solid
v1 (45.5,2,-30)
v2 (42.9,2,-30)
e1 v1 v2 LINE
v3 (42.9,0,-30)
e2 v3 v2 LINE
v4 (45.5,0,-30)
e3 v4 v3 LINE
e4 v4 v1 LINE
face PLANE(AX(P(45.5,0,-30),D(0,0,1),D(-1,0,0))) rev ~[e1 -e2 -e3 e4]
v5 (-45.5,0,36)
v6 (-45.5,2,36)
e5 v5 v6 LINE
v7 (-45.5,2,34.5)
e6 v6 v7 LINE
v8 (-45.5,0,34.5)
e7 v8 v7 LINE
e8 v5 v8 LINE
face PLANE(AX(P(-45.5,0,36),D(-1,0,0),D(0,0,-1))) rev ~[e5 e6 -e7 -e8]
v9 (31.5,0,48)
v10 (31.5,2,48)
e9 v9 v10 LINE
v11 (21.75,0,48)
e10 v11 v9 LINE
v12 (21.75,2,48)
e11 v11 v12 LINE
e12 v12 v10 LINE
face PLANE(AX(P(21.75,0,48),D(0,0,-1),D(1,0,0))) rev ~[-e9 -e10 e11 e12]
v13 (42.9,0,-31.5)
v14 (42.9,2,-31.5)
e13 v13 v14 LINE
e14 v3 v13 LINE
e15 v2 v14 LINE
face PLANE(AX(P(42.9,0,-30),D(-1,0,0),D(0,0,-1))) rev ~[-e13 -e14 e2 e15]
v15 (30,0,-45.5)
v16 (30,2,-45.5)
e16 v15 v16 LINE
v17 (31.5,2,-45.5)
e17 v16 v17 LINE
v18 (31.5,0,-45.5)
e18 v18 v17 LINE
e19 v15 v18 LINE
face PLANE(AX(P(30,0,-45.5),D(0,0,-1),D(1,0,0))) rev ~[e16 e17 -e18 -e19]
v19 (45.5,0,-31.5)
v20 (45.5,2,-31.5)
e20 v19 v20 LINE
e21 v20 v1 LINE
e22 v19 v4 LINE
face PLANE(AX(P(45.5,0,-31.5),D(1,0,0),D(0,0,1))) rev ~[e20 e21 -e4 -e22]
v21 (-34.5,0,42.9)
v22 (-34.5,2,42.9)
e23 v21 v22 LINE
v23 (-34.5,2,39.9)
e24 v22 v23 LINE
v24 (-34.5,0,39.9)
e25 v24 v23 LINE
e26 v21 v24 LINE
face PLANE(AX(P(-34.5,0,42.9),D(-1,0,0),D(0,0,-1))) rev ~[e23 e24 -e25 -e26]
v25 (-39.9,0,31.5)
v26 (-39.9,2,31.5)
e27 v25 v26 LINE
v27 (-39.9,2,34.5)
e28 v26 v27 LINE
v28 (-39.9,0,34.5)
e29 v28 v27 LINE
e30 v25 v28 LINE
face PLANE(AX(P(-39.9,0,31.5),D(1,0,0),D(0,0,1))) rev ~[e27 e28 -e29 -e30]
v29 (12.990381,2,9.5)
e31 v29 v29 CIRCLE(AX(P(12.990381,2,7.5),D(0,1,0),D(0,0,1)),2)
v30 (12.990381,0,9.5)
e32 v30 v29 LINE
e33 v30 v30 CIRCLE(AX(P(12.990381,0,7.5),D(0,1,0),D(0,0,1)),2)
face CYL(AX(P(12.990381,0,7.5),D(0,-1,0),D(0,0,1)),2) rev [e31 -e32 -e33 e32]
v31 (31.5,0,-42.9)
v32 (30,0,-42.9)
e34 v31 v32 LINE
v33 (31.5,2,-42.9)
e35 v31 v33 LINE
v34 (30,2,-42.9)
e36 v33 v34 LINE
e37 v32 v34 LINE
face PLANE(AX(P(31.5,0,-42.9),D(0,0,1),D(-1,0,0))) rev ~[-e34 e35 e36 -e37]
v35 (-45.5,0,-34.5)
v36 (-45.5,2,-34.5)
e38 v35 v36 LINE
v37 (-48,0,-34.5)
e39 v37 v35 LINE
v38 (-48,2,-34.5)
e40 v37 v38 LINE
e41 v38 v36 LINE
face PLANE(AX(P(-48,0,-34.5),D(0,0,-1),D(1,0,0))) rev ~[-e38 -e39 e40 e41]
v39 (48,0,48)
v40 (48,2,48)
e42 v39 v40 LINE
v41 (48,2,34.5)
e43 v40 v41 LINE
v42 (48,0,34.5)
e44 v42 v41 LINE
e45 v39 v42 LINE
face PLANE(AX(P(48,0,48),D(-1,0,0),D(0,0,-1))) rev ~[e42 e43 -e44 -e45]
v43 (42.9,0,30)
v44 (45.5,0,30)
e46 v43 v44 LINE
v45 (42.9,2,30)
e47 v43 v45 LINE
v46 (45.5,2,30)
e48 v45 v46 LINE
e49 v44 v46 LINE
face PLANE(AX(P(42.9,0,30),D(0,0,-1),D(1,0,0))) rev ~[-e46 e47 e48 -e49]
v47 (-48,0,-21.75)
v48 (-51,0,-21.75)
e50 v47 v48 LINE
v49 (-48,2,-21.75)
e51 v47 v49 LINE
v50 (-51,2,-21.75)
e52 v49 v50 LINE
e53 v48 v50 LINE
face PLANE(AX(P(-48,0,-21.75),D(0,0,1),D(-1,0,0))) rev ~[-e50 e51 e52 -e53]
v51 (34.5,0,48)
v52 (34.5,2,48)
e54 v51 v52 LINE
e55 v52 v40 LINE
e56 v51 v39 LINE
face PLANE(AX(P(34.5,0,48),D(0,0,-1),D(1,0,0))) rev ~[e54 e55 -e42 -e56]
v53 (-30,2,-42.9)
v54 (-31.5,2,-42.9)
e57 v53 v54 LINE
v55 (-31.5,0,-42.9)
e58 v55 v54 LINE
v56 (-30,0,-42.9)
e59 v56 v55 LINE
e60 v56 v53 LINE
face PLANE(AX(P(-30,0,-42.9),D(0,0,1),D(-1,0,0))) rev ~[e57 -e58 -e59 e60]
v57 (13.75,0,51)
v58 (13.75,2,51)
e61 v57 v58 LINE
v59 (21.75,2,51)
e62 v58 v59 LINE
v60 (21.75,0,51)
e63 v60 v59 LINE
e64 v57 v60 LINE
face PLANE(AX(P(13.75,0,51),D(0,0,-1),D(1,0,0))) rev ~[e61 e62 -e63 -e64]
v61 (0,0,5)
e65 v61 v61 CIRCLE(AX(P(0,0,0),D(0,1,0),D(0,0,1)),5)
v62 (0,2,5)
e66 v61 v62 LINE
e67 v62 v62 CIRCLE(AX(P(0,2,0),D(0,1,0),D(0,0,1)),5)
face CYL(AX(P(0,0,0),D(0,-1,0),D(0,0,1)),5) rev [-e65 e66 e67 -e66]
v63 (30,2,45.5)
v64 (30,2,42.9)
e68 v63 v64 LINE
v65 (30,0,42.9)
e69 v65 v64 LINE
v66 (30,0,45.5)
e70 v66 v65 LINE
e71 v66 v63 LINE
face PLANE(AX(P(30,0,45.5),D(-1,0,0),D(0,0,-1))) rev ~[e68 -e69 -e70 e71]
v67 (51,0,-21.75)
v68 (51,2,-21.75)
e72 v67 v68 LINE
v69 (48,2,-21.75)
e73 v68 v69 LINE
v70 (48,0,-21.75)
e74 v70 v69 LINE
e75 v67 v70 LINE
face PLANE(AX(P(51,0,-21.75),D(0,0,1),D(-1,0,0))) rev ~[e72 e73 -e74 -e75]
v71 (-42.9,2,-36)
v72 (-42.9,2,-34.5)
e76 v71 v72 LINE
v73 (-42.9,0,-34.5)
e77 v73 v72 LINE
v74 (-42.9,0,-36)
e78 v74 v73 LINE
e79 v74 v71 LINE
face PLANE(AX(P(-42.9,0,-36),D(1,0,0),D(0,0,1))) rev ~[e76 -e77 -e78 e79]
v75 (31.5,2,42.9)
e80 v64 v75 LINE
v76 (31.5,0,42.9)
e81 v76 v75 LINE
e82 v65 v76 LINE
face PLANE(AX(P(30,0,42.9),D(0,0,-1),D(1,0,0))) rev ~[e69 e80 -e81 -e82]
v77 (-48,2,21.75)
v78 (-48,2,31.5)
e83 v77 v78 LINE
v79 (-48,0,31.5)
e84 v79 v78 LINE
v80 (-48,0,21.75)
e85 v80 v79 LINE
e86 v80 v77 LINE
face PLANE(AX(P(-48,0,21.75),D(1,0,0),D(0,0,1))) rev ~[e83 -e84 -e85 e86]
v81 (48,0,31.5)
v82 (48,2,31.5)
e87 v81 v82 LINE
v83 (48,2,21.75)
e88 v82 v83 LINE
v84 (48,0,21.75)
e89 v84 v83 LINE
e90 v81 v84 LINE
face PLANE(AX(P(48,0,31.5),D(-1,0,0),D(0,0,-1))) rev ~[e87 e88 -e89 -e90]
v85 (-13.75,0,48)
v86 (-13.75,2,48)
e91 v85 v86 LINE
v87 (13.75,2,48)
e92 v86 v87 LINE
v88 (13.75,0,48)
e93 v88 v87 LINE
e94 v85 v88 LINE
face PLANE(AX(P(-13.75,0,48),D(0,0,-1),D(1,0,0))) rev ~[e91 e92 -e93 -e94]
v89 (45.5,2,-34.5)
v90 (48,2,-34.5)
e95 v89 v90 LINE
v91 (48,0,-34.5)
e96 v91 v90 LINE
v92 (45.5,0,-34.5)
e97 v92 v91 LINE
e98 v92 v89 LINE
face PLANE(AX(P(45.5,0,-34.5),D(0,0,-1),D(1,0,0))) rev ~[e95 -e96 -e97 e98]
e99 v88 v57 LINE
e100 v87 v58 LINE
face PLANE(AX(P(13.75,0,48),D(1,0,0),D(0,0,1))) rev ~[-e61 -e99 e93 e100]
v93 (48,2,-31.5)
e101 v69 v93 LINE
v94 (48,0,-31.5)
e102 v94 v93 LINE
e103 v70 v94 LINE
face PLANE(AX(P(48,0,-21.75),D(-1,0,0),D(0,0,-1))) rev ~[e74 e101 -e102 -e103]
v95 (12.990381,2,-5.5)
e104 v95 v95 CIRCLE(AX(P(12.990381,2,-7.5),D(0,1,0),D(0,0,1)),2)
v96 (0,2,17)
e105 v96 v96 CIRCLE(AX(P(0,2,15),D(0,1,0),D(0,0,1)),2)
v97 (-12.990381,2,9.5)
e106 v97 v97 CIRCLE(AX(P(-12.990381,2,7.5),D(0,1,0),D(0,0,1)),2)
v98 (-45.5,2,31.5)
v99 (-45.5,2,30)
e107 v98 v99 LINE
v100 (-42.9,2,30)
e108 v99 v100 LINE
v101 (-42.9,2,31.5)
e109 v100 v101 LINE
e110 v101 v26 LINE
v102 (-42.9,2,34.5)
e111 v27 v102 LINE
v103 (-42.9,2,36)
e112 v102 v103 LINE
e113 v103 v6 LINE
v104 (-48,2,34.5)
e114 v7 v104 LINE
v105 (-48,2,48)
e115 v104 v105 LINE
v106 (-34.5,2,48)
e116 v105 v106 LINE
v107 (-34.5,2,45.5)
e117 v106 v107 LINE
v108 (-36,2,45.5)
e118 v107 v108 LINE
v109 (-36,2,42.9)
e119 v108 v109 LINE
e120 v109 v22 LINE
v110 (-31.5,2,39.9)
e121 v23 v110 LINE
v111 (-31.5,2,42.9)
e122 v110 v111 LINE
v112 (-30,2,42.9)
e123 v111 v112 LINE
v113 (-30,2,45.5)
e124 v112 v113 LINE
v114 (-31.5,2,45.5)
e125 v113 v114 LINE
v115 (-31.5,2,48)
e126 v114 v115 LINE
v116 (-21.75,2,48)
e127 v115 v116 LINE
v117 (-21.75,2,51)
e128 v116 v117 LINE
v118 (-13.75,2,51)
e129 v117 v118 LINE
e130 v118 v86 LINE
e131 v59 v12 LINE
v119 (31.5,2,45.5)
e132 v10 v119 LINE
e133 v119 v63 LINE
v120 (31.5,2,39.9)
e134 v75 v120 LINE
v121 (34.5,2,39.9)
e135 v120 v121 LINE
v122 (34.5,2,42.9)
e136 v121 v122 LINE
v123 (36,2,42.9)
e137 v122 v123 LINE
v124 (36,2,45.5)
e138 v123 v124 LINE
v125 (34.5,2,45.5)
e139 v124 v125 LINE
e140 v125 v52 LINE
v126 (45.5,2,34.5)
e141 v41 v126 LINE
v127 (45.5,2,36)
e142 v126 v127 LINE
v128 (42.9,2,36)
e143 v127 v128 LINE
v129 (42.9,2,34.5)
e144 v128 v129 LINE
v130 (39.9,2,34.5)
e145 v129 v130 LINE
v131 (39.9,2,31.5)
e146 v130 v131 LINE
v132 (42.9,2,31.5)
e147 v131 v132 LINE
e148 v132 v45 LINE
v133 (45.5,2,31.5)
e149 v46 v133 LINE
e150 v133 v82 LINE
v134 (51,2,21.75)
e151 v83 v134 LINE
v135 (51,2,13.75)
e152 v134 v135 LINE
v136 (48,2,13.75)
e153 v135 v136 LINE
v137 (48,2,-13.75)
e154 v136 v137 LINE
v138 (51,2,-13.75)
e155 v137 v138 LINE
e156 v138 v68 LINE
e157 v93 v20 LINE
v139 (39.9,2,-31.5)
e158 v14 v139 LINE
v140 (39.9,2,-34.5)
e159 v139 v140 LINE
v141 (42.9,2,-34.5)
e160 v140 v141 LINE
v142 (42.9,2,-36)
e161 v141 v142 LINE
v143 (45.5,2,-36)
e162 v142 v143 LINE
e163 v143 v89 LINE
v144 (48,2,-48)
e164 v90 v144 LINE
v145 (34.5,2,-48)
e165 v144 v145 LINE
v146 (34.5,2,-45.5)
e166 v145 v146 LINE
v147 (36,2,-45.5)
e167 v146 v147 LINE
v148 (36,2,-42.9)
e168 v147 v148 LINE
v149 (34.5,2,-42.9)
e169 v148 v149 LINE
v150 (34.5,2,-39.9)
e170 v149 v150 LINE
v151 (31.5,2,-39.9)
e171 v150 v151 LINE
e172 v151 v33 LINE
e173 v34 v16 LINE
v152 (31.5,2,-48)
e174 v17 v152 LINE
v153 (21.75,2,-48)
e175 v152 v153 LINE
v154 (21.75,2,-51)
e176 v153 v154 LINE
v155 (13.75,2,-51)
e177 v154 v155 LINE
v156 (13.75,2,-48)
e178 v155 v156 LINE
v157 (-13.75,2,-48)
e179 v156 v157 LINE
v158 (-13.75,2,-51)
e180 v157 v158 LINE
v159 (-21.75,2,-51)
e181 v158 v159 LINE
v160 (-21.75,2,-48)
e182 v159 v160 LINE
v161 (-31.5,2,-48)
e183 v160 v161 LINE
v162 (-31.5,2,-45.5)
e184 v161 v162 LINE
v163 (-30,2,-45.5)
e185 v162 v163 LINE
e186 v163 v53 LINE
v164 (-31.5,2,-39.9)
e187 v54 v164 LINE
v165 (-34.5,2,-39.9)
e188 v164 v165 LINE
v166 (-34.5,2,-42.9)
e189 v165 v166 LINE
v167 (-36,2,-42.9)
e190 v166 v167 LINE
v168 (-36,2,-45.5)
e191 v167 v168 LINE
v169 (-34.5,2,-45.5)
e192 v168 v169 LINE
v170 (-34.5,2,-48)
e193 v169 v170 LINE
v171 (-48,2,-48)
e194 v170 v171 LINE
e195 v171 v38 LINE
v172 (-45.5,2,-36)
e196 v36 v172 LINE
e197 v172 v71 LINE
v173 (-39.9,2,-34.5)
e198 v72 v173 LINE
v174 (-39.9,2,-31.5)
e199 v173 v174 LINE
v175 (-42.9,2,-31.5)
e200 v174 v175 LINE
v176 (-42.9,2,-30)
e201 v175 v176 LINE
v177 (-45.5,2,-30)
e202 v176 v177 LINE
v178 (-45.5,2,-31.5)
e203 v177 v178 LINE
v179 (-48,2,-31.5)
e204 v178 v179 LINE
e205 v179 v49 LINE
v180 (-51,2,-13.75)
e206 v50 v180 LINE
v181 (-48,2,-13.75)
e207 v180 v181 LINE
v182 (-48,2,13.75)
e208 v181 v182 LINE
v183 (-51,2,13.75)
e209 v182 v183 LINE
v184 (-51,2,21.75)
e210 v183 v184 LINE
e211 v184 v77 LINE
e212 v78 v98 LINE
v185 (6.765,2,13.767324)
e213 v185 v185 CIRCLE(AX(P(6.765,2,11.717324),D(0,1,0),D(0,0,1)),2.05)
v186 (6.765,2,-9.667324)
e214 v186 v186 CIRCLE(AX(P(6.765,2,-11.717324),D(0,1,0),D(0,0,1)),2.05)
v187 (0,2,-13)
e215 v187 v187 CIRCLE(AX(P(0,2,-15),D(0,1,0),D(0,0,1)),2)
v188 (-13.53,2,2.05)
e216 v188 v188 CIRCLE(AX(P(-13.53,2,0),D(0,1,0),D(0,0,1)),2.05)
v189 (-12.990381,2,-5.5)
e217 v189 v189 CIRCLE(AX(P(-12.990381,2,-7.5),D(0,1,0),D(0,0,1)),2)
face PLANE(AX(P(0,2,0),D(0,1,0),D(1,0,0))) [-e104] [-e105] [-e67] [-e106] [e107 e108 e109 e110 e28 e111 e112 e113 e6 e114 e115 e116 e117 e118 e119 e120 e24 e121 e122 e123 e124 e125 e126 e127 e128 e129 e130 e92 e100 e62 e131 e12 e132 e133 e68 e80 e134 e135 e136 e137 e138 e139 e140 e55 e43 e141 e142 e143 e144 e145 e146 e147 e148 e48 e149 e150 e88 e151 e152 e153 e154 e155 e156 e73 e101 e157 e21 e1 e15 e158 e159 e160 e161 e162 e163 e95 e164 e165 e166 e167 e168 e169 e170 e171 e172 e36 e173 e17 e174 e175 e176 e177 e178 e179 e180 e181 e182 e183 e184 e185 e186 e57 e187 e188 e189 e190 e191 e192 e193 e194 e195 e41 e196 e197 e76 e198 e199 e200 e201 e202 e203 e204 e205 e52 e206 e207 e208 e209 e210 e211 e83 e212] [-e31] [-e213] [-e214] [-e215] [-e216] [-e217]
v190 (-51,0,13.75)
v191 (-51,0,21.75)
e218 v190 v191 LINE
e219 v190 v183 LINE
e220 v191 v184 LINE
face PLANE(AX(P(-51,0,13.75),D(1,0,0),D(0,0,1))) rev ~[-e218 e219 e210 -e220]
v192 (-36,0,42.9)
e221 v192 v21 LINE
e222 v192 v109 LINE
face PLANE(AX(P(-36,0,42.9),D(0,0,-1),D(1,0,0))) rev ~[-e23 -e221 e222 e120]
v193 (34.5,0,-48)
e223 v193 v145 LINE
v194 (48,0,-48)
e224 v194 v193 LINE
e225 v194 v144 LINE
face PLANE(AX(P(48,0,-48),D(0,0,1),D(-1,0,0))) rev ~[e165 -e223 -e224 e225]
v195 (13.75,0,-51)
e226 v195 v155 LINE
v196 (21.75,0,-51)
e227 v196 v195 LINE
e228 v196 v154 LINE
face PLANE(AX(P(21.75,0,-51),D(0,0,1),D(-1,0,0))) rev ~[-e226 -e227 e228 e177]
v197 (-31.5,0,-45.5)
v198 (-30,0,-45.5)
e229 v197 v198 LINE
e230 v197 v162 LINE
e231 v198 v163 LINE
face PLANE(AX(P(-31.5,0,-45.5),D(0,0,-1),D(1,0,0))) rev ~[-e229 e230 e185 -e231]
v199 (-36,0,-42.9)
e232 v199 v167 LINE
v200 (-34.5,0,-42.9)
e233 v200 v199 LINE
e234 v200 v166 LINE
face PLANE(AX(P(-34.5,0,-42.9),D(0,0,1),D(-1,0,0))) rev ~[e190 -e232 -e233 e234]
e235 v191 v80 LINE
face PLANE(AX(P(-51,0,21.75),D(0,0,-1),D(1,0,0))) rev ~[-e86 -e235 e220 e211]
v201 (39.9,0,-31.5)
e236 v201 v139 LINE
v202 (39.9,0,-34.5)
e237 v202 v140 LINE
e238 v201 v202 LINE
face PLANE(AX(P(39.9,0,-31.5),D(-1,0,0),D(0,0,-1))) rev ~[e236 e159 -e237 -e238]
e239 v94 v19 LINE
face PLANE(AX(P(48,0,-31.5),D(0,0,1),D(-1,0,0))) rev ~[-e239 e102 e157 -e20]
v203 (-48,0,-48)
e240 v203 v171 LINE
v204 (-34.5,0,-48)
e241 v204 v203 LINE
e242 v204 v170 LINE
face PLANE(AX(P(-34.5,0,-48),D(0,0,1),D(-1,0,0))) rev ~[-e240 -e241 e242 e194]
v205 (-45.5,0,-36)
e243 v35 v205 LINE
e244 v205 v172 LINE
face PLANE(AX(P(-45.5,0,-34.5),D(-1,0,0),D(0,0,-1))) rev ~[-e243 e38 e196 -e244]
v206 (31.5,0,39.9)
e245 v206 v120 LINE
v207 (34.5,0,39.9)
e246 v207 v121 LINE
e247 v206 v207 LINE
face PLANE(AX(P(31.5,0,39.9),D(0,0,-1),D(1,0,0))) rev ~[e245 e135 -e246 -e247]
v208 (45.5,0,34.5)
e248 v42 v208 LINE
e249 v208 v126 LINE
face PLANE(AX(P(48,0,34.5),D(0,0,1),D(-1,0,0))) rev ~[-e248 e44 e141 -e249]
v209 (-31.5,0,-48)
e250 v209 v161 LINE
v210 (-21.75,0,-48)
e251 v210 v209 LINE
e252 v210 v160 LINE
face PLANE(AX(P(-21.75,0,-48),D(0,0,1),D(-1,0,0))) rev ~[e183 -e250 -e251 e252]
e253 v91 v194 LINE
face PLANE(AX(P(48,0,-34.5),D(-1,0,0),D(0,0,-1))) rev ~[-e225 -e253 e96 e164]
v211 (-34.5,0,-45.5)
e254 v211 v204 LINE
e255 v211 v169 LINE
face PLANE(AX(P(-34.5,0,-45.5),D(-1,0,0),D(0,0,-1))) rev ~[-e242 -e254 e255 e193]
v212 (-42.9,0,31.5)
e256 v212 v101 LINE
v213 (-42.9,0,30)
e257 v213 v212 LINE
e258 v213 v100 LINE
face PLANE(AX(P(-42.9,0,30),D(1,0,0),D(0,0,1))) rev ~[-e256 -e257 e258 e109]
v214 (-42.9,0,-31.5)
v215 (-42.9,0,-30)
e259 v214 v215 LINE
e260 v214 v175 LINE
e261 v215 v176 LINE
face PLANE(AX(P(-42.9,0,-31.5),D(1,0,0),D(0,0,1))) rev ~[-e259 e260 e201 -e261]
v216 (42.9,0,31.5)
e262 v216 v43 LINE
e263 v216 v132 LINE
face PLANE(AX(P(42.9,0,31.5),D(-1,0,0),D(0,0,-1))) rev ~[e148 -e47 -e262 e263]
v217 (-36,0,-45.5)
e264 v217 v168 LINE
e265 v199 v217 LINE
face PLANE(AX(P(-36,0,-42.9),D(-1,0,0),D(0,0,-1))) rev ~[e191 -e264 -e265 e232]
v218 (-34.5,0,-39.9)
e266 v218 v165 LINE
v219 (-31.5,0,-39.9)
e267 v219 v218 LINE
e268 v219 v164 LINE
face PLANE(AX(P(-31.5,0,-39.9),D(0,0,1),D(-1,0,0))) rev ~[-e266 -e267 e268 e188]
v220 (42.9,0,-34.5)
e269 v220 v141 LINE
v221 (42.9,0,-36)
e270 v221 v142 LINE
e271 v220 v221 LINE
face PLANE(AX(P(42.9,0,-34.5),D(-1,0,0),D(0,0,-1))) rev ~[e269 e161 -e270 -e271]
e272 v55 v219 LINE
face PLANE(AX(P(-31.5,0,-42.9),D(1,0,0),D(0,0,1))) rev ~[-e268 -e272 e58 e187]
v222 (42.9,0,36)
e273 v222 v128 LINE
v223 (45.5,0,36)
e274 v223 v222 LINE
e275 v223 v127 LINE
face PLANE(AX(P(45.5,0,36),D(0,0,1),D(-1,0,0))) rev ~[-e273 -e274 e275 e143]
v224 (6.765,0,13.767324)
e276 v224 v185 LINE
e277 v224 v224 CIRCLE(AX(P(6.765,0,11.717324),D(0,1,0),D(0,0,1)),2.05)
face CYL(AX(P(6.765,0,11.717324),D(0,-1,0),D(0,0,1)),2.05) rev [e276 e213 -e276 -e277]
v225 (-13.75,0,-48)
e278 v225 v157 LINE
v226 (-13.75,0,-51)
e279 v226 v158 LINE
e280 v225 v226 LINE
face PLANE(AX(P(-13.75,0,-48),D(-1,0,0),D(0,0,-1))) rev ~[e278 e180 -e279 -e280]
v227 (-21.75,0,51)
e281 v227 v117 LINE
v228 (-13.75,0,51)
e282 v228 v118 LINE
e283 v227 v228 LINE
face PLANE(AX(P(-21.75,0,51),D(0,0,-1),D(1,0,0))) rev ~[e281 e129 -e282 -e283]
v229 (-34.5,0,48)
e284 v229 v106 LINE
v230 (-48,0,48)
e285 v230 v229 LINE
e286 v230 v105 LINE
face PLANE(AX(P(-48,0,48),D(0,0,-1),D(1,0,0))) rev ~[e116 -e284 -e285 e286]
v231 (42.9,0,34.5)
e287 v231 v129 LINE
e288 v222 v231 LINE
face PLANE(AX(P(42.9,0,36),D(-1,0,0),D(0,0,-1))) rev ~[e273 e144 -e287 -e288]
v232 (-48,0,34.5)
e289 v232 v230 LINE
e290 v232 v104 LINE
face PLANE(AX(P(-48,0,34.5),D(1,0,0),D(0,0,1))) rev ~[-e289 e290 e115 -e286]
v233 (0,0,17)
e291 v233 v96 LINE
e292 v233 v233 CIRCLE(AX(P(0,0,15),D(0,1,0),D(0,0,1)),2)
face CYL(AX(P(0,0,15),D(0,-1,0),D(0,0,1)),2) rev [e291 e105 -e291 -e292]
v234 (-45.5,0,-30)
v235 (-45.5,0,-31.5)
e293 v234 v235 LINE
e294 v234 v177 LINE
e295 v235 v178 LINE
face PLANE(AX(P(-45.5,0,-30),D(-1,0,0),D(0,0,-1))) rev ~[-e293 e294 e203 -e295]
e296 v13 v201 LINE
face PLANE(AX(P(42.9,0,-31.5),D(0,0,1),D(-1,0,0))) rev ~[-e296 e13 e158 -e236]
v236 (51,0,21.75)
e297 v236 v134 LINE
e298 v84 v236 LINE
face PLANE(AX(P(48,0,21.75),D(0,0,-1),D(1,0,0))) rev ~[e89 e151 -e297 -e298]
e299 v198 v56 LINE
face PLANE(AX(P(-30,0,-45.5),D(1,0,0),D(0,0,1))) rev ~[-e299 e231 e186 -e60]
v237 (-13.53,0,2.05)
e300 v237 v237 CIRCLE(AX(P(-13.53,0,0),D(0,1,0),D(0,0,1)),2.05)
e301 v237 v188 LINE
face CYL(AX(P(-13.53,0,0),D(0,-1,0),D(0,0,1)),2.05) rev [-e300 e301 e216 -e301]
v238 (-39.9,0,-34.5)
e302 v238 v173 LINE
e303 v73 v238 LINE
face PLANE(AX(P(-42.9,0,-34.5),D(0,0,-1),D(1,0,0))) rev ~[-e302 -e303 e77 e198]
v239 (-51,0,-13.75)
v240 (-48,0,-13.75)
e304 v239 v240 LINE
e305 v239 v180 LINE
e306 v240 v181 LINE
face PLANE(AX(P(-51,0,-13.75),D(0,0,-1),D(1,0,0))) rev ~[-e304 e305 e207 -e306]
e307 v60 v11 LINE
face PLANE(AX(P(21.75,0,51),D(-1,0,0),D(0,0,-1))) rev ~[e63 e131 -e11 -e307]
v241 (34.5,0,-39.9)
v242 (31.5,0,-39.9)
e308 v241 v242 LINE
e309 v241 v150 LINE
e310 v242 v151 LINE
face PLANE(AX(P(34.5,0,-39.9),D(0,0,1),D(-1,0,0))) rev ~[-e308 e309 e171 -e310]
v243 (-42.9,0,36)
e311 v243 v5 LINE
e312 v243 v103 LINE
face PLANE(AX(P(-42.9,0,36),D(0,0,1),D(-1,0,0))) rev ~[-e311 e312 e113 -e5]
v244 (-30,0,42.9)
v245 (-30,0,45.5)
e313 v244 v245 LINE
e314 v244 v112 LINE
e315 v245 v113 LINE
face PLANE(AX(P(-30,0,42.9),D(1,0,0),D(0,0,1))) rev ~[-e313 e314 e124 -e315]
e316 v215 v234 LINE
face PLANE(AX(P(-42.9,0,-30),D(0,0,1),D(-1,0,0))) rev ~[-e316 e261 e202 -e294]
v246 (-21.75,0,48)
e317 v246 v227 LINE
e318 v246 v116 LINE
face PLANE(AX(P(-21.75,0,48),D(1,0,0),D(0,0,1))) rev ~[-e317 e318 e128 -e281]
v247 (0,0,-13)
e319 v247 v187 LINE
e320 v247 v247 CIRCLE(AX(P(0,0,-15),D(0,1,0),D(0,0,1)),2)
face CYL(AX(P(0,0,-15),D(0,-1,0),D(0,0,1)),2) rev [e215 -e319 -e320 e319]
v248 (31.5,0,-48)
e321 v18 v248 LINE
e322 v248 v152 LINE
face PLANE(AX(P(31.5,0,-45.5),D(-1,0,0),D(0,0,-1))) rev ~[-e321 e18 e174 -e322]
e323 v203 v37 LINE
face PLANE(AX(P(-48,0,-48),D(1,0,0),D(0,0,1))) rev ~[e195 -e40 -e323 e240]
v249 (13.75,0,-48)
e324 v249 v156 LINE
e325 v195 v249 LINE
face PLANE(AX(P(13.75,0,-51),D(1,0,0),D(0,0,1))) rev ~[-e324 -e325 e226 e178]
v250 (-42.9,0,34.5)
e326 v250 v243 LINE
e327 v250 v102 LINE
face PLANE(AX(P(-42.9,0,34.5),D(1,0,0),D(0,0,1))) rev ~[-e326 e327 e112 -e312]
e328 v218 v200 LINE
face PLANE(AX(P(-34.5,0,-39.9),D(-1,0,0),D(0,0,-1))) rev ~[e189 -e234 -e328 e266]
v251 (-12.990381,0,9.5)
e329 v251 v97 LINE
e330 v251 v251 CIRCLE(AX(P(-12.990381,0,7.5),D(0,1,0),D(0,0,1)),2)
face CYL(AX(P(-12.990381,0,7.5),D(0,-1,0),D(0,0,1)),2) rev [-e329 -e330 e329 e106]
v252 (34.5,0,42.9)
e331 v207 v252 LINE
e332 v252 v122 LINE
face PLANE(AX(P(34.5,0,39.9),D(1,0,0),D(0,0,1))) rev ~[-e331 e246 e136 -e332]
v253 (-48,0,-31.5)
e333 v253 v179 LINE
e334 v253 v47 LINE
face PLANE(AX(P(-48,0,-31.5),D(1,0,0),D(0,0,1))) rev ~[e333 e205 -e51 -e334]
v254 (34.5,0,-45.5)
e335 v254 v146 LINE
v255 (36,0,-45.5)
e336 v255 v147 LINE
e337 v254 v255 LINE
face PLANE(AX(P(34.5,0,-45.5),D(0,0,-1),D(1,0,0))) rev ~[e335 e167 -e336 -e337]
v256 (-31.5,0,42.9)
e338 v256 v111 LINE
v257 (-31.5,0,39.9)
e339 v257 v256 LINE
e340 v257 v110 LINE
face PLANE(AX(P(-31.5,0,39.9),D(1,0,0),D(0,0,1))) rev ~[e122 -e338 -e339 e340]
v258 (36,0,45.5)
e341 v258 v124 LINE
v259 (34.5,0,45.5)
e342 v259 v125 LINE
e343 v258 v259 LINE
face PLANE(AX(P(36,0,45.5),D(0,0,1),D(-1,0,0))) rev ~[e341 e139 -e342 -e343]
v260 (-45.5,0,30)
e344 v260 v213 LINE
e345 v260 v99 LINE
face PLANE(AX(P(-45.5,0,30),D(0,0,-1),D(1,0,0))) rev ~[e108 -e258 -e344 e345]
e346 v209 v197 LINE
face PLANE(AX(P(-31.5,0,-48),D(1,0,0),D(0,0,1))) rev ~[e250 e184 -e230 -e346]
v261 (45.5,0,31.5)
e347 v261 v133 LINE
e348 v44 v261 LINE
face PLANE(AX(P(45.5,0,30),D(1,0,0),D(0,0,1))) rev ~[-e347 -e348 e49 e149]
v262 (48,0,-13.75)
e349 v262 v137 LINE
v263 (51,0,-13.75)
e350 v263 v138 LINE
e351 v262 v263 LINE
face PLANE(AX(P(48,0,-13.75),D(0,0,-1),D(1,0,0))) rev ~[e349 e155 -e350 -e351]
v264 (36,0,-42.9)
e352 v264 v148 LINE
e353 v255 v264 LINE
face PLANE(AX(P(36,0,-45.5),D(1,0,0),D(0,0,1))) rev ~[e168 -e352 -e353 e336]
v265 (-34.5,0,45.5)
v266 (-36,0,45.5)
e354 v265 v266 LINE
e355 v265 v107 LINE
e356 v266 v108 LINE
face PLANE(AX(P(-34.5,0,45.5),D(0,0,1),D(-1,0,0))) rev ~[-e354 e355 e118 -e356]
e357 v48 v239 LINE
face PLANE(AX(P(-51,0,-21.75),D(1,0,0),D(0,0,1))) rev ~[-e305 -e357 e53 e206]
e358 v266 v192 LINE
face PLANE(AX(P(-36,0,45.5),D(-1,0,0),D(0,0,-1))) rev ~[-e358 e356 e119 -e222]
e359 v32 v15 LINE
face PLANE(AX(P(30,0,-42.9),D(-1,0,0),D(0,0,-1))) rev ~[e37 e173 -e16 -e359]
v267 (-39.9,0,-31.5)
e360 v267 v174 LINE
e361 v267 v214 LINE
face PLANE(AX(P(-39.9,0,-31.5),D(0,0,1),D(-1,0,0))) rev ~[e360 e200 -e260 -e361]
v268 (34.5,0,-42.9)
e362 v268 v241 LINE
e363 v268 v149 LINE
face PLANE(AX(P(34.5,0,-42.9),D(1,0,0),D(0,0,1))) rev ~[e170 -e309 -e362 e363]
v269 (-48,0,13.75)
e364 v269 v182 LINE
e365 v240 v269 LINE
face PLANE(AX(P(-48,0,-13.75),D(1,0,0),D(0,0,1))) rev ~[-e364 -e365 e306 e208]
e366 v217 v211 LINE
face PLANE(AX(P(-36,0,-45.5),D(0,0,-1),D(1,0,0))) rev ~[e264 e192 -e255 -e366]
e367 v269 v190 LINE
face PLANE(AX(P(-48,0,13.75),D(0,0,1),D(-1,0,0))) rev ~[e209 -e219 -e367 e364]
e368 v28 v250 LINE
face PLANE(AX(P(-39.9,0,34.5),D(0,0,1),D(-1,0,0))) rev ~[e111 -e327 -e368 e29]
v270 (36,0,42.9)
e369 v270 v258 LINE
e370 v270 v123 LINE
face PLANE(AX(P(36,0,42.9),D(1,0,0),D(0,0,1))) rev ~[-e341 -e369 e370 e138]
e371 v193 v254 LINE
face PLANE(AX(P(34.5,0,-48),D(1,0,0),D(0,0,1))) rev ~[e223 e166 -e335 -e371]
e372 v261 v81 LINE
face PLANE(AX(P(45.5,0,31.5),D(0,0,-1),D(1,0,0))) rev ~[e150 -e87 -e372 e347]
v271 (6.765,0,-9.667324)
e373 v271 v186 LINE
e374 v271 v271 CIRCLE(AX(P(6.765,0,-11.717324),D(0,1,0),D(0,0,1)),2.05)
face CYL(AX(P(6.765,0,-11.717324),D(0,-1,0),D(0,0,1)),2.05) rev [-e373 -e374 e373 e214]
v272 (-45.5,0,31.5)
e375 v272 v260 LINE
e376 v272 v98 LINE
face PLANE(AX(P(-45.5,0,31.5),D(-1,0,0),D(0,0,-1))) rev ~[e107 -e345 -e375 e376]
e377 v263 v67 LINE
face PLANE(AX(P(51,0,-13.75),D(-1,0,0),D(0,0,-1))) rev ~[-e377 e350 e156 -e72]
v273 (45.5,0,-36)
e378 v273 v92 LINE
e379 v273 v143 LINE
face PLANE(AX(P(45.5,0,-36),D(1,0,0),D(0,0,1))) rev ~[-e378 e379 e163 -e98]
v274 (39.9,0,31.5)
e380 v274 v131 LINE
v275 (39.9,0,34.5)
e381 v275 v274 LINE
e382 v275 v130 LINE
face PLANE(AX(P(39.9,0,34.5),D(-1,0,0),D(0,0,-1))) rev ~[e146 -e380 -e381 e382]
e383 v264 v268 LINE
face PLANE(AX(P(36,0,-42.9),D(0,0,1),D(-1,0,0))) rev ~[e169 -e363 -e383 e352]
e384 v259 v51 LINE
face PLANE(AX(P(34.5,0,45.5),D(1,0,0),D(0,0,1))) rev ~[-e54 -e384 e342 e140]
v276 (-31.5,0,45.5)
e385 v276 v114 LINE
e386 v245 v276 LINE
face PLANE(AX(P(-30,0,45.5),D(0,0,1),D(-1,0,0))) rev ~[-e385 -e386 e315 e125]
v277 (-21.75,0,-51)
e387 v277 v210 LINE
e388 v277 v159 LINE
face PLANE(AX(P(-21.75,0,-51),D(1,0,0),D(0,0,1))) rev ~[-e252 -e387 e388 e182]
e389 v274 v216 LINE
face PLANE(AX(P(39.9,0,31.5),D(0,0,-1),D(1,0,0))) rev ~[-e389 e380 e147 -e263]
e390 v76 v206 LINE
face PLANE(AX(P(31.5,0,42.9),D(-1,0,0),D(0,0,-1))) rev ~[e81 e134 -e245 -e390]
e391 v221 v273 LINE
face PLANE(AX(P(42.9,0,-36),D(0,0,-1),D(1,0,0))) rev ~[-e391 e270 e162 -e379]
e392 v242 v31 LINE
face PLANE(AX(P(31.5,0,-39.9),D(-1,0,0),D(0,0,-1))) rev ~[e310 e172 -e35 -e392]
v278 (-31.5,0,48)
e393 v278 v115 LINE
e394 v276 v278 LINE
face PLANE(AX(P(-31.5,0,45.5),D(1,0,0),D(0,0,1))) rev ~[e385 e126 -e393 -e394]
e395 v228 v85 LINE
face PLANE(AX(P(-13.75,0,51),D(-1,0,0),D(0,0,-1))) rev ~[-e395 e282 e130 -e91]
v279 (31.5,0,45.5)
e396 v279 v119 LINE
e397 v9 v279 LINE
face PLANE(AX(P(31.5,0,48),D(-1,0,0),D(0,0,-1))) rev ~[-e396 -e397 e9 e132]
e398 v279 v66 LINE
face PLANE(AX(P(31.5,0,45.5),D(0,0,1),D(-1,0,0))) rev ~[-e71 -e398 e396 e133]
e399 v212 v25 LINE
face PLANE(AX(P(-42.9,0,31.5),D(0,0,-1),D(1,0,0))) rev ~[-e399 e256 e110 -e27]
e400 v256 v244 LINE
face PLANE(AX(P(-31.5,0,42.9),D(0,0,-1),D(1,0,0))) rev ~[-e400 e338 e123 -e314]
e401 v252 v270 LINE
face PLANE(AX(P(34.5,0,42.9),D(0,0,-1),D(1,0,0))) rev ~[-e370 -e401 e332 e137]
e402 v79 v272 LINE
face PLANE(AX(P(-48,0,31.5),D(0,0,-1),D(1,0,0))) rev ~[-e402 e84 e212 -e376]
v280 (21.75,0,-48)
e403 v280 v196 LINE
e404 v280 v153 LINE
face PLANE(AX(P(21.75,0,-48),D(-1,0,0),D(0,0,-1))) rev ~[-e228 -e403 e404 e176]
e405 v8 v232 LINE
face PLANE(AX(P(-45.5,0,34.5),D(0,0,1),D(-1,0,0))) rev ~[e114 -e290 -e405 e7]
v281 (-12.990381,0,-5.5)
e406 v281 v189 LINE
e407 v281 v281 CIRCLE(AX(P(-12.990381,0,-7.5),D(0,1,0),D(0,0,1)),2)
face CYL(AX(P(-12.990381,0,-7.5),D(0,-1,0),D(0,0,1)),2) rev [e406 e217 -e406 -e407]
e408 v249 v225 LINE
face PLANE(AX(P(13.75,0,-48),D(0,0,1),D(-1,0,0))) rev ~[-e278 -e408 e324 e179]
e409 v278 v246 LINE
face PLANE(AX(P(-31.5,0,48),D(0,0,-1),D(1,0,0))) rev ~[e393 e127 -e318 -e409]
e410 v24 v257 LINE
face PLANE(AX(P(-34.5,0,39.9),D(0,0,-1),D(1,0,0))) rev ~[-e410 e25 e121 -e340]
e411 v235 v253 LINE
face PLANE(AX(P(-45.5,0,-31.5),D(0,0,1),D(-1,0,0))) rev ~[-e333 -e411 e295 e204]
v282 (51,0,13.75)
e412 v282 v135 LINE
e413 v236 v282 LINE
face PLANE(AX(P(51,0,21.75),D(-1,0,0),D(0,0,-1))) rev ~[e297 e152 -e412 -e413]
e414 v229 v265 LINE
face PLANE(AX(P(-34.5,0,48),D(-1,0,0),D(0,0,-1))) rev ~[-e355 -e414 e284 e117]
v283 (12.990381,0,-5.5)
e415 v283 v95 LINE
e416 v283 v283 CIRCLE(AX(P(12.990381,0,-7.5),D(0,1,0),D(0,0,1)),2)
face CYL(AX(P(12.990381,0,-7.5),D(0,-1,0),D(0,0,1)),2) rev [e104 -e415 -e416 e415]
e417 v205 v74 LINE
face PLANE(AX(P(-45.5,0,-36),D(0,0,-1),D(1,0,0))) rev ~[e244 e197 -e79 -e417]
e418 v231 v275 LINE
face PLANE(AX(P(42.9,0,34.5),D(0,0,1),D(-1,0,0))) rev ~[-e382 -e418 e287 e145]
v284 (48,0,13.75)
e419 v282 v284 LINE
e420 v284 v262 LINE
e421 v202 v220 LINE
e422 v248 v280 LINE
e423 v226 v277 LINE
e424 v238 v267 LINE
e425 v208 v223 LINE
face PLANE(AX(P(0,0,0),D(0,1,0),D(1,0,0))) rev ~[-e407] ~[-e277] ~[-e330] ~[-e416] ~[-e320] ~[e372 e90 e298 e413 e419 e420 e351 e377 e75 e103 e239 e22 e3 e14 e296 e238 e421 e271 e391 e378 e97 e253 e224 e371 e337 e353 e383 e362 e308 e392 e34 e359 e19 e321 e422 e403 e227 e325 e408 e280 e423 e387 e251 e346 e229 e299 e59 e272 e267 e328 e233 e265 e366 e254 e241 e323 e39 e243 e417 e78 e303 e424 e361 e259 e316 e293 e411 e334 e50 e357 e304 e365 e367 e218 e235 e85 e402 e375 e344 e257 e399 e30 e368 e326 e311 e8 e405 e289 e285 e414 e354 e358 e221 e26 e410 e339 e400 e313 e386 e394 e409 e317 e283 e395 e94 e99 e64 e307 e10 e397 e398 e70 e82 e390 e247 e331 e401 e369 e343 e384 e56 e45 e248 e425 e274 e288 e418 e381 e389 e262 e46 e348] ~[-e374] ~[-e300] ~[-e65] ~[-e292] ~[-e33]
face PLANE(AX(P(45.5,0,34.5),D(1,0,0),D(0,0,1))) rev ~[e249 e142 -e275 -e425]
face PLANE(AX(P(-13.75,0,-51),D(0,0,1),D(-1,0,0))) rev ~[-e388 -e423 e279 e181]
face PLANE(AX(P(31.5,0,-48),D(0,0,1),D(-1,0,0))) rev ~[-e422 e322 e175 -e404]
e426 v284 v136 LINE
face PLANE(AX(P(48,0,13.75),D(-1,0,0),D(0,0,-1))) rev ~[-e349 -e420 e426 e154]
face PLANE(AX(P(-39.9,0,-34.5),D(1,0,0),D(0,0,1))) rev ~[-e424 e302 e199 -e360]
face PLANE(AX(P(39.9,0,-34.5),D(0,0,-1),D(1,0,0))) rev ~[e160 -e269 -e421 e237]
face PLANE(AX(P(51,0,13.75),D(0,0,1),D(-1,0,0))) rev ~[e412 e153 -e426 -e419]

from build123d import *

# Parameters (mm, degrees)
SKETCH_1_R      = 2
SKETCH_1_R_2    = 2.05
SKETCH_1_R_3    = 5
EXTRUDE_1_DEPTH = 2


with BuildPart() as part:
    # 草图1 → 凸台-拉伸1 (new body)
    with BuildSketch(Plane(origin=(0, 0, 0), x_dir=(1, 0, 0), z_dir=(0, 1, 0))):
        Polygon((-31.5, -48), (-21.75, -48), (-21.75, -51), (-13.75, -51), (-13.75, -48), (13.75, -48), (13.75, -51), (21.75, -51), (21.75, -48), (31.5, -48), (31.5, -45.5), (30, -45.5), (30, -42.9), (31.5, -42.9), (31.5, -39.9), (34.5, -39.9), (34.5, -42.9), (36, -42.9), (36, -45.5), (34.5, -45.5), (34.5, -48), (35.5, -48), (47.5, -48), (48, -48), (48, -35.5), (48, -34.5), (45.5, -34.5), (45.5, -36), (42.9, -36), (42.9, -34.5), (39.9, -34.5), (39.9, -31.5), (42.9, -31.5), (42.9, -30), (45.5, -30), (45.5, -31.5), (48, -31.5), (48, -21.75), (51, -21.75), (51, -13.75), (48, -13.75), (48, 13.75), (51, 13.75), (51, 21.75), (48, 21.75), (48, 31.5), (45.5, 31.5), (45.5, 30), (42.9, 30), (42.9, 31.5), (39.9, 31.5), (39.9, 34.5), (42.9, 34.5), (42.9, 36), (45.5, 36), (45.5, 34.5), (48, 34.5), (48, 46.5), (48, 48), (35.5, 48), (34.5, 48), (34.5, 45.5), (36, 45.5), (36, 42.9), (34.5, 42.9), (34.5, 39.9), (31.5, 39.9), (31.5, 42.9), (30, 42.9), (30, 45.5), (31.5, 45.5), (31.5, 48), (21.75, 48), (21.75, 51), (13.75, 51), (13.75, 48), (-13.75, 48), (-13.75, 51), (-21.75, 51), (-21.75, 48), (-31.5, 48), (-31.5, 45.5), (-30, 45.5), (-30, 42.9), (-31.5, 42.9), (-31.5, 39.9), (-34.5, 39.9), (-34.5, 42.9), (-36, 42.9), (-36, 45.5), (-34.5, 45.5), (-34.5, 48), (-42.9, 48), (-48, 48), (-48, 47), (-48, 34.5), (-45.5, 34.5), (-45.5, 36), (-42.9, 36), (-42.9, 34.5), (-39.9, 34.5), (-39.9, 31.5), (-42.9, 31.5), (-42.9, 30), (-45.5, 30), (-45.5, 31.5), (-48, 31.5), (-48, 21.75), (-51, 21.75), (-51, 13.75), (-48, 13.75), (-48, -13.75), (-51, -13.75), (-51, -21.75), (-48, -21.75), (-48, -31.5), (-45.5, -31.5), (-45.5, -30), (-42.9, -30), (-42.9, -31.5), (-39.9, -31.5), (-39.9, -34.5), (-42.9, -34.5), (-42.9, -36), (-45.5, -36), (-45.5, -34.5), (-48, -34.5), (-48, -35.5), (-48, -48), (-47, -48), (-34.5, -48), (-34.5, -45.5), (-36, -45.5), (-36, -42.9), (-34.5, -42.9), (-34.5, -39.9), (-31.5, -39.9), (-31.5, -42.9), (-30, -42.9), (-30, -45.5), (-31.5, -45.5), align=None)
        with Locations(Location((0, -15, 0), (0, 0, 270))):
            Circle(SKETCH_1_R, mode=Mode.SUBTRACT)
        with Locations(Location((-12.990381057, -7.5, 0), (0, 0, 270))):
            Circle(SKETCH_1_R, mode=Mode.SUBTRACT)
        with Locations(Location((-12.990381057, 7.5, 0), (0, 0, 270))):
            Circle(SKETCH_1_R, mode=Mode.SUBTRACT)
        with Locations(Location((0, 15, 0), (0, 0, 270))):
            Circle(SKETCH_1_R, mode=Mode.SUBTRACT)
        with Locations(Location((12.990381057, 7.5, 0), (0, 0, 270))):
            Circle(SKETCH_1_R, mode=Mode.SUBTRACT)
        with Locations(Location((12.990381057, -7.5, 0), (0, 0, 270))):
            Circle(SKETCH_1_R, mode=Mode.SUBTRACT)
        with Locations(Location((-13.53, 0, 0), (0, 0, 270))):
            Circle(SKETCH_1_R_2, mode=Mode.SUBTRACT)
        with Locations(Location((6.765, 11.717323713, 0), (0, 0, 270))):
            Circle(SKETCH_1_R_2, mode=Mode.SUBTRACT)
        with Locations(Location((6.765, -11.717323713, 0), (0, 0, 270))):
            Circle(SKETCH_1_R_2, mode=Mode.SUBTRACT)
        with Locations(Location((0, 0, 0), (0, 0, 270))):
            Circle(SKETCH_1_R_3, mode=Mode.SUBTRACT)
    extrude(amount=EXTRUDE_1_DEPTH)


solid = part.part
